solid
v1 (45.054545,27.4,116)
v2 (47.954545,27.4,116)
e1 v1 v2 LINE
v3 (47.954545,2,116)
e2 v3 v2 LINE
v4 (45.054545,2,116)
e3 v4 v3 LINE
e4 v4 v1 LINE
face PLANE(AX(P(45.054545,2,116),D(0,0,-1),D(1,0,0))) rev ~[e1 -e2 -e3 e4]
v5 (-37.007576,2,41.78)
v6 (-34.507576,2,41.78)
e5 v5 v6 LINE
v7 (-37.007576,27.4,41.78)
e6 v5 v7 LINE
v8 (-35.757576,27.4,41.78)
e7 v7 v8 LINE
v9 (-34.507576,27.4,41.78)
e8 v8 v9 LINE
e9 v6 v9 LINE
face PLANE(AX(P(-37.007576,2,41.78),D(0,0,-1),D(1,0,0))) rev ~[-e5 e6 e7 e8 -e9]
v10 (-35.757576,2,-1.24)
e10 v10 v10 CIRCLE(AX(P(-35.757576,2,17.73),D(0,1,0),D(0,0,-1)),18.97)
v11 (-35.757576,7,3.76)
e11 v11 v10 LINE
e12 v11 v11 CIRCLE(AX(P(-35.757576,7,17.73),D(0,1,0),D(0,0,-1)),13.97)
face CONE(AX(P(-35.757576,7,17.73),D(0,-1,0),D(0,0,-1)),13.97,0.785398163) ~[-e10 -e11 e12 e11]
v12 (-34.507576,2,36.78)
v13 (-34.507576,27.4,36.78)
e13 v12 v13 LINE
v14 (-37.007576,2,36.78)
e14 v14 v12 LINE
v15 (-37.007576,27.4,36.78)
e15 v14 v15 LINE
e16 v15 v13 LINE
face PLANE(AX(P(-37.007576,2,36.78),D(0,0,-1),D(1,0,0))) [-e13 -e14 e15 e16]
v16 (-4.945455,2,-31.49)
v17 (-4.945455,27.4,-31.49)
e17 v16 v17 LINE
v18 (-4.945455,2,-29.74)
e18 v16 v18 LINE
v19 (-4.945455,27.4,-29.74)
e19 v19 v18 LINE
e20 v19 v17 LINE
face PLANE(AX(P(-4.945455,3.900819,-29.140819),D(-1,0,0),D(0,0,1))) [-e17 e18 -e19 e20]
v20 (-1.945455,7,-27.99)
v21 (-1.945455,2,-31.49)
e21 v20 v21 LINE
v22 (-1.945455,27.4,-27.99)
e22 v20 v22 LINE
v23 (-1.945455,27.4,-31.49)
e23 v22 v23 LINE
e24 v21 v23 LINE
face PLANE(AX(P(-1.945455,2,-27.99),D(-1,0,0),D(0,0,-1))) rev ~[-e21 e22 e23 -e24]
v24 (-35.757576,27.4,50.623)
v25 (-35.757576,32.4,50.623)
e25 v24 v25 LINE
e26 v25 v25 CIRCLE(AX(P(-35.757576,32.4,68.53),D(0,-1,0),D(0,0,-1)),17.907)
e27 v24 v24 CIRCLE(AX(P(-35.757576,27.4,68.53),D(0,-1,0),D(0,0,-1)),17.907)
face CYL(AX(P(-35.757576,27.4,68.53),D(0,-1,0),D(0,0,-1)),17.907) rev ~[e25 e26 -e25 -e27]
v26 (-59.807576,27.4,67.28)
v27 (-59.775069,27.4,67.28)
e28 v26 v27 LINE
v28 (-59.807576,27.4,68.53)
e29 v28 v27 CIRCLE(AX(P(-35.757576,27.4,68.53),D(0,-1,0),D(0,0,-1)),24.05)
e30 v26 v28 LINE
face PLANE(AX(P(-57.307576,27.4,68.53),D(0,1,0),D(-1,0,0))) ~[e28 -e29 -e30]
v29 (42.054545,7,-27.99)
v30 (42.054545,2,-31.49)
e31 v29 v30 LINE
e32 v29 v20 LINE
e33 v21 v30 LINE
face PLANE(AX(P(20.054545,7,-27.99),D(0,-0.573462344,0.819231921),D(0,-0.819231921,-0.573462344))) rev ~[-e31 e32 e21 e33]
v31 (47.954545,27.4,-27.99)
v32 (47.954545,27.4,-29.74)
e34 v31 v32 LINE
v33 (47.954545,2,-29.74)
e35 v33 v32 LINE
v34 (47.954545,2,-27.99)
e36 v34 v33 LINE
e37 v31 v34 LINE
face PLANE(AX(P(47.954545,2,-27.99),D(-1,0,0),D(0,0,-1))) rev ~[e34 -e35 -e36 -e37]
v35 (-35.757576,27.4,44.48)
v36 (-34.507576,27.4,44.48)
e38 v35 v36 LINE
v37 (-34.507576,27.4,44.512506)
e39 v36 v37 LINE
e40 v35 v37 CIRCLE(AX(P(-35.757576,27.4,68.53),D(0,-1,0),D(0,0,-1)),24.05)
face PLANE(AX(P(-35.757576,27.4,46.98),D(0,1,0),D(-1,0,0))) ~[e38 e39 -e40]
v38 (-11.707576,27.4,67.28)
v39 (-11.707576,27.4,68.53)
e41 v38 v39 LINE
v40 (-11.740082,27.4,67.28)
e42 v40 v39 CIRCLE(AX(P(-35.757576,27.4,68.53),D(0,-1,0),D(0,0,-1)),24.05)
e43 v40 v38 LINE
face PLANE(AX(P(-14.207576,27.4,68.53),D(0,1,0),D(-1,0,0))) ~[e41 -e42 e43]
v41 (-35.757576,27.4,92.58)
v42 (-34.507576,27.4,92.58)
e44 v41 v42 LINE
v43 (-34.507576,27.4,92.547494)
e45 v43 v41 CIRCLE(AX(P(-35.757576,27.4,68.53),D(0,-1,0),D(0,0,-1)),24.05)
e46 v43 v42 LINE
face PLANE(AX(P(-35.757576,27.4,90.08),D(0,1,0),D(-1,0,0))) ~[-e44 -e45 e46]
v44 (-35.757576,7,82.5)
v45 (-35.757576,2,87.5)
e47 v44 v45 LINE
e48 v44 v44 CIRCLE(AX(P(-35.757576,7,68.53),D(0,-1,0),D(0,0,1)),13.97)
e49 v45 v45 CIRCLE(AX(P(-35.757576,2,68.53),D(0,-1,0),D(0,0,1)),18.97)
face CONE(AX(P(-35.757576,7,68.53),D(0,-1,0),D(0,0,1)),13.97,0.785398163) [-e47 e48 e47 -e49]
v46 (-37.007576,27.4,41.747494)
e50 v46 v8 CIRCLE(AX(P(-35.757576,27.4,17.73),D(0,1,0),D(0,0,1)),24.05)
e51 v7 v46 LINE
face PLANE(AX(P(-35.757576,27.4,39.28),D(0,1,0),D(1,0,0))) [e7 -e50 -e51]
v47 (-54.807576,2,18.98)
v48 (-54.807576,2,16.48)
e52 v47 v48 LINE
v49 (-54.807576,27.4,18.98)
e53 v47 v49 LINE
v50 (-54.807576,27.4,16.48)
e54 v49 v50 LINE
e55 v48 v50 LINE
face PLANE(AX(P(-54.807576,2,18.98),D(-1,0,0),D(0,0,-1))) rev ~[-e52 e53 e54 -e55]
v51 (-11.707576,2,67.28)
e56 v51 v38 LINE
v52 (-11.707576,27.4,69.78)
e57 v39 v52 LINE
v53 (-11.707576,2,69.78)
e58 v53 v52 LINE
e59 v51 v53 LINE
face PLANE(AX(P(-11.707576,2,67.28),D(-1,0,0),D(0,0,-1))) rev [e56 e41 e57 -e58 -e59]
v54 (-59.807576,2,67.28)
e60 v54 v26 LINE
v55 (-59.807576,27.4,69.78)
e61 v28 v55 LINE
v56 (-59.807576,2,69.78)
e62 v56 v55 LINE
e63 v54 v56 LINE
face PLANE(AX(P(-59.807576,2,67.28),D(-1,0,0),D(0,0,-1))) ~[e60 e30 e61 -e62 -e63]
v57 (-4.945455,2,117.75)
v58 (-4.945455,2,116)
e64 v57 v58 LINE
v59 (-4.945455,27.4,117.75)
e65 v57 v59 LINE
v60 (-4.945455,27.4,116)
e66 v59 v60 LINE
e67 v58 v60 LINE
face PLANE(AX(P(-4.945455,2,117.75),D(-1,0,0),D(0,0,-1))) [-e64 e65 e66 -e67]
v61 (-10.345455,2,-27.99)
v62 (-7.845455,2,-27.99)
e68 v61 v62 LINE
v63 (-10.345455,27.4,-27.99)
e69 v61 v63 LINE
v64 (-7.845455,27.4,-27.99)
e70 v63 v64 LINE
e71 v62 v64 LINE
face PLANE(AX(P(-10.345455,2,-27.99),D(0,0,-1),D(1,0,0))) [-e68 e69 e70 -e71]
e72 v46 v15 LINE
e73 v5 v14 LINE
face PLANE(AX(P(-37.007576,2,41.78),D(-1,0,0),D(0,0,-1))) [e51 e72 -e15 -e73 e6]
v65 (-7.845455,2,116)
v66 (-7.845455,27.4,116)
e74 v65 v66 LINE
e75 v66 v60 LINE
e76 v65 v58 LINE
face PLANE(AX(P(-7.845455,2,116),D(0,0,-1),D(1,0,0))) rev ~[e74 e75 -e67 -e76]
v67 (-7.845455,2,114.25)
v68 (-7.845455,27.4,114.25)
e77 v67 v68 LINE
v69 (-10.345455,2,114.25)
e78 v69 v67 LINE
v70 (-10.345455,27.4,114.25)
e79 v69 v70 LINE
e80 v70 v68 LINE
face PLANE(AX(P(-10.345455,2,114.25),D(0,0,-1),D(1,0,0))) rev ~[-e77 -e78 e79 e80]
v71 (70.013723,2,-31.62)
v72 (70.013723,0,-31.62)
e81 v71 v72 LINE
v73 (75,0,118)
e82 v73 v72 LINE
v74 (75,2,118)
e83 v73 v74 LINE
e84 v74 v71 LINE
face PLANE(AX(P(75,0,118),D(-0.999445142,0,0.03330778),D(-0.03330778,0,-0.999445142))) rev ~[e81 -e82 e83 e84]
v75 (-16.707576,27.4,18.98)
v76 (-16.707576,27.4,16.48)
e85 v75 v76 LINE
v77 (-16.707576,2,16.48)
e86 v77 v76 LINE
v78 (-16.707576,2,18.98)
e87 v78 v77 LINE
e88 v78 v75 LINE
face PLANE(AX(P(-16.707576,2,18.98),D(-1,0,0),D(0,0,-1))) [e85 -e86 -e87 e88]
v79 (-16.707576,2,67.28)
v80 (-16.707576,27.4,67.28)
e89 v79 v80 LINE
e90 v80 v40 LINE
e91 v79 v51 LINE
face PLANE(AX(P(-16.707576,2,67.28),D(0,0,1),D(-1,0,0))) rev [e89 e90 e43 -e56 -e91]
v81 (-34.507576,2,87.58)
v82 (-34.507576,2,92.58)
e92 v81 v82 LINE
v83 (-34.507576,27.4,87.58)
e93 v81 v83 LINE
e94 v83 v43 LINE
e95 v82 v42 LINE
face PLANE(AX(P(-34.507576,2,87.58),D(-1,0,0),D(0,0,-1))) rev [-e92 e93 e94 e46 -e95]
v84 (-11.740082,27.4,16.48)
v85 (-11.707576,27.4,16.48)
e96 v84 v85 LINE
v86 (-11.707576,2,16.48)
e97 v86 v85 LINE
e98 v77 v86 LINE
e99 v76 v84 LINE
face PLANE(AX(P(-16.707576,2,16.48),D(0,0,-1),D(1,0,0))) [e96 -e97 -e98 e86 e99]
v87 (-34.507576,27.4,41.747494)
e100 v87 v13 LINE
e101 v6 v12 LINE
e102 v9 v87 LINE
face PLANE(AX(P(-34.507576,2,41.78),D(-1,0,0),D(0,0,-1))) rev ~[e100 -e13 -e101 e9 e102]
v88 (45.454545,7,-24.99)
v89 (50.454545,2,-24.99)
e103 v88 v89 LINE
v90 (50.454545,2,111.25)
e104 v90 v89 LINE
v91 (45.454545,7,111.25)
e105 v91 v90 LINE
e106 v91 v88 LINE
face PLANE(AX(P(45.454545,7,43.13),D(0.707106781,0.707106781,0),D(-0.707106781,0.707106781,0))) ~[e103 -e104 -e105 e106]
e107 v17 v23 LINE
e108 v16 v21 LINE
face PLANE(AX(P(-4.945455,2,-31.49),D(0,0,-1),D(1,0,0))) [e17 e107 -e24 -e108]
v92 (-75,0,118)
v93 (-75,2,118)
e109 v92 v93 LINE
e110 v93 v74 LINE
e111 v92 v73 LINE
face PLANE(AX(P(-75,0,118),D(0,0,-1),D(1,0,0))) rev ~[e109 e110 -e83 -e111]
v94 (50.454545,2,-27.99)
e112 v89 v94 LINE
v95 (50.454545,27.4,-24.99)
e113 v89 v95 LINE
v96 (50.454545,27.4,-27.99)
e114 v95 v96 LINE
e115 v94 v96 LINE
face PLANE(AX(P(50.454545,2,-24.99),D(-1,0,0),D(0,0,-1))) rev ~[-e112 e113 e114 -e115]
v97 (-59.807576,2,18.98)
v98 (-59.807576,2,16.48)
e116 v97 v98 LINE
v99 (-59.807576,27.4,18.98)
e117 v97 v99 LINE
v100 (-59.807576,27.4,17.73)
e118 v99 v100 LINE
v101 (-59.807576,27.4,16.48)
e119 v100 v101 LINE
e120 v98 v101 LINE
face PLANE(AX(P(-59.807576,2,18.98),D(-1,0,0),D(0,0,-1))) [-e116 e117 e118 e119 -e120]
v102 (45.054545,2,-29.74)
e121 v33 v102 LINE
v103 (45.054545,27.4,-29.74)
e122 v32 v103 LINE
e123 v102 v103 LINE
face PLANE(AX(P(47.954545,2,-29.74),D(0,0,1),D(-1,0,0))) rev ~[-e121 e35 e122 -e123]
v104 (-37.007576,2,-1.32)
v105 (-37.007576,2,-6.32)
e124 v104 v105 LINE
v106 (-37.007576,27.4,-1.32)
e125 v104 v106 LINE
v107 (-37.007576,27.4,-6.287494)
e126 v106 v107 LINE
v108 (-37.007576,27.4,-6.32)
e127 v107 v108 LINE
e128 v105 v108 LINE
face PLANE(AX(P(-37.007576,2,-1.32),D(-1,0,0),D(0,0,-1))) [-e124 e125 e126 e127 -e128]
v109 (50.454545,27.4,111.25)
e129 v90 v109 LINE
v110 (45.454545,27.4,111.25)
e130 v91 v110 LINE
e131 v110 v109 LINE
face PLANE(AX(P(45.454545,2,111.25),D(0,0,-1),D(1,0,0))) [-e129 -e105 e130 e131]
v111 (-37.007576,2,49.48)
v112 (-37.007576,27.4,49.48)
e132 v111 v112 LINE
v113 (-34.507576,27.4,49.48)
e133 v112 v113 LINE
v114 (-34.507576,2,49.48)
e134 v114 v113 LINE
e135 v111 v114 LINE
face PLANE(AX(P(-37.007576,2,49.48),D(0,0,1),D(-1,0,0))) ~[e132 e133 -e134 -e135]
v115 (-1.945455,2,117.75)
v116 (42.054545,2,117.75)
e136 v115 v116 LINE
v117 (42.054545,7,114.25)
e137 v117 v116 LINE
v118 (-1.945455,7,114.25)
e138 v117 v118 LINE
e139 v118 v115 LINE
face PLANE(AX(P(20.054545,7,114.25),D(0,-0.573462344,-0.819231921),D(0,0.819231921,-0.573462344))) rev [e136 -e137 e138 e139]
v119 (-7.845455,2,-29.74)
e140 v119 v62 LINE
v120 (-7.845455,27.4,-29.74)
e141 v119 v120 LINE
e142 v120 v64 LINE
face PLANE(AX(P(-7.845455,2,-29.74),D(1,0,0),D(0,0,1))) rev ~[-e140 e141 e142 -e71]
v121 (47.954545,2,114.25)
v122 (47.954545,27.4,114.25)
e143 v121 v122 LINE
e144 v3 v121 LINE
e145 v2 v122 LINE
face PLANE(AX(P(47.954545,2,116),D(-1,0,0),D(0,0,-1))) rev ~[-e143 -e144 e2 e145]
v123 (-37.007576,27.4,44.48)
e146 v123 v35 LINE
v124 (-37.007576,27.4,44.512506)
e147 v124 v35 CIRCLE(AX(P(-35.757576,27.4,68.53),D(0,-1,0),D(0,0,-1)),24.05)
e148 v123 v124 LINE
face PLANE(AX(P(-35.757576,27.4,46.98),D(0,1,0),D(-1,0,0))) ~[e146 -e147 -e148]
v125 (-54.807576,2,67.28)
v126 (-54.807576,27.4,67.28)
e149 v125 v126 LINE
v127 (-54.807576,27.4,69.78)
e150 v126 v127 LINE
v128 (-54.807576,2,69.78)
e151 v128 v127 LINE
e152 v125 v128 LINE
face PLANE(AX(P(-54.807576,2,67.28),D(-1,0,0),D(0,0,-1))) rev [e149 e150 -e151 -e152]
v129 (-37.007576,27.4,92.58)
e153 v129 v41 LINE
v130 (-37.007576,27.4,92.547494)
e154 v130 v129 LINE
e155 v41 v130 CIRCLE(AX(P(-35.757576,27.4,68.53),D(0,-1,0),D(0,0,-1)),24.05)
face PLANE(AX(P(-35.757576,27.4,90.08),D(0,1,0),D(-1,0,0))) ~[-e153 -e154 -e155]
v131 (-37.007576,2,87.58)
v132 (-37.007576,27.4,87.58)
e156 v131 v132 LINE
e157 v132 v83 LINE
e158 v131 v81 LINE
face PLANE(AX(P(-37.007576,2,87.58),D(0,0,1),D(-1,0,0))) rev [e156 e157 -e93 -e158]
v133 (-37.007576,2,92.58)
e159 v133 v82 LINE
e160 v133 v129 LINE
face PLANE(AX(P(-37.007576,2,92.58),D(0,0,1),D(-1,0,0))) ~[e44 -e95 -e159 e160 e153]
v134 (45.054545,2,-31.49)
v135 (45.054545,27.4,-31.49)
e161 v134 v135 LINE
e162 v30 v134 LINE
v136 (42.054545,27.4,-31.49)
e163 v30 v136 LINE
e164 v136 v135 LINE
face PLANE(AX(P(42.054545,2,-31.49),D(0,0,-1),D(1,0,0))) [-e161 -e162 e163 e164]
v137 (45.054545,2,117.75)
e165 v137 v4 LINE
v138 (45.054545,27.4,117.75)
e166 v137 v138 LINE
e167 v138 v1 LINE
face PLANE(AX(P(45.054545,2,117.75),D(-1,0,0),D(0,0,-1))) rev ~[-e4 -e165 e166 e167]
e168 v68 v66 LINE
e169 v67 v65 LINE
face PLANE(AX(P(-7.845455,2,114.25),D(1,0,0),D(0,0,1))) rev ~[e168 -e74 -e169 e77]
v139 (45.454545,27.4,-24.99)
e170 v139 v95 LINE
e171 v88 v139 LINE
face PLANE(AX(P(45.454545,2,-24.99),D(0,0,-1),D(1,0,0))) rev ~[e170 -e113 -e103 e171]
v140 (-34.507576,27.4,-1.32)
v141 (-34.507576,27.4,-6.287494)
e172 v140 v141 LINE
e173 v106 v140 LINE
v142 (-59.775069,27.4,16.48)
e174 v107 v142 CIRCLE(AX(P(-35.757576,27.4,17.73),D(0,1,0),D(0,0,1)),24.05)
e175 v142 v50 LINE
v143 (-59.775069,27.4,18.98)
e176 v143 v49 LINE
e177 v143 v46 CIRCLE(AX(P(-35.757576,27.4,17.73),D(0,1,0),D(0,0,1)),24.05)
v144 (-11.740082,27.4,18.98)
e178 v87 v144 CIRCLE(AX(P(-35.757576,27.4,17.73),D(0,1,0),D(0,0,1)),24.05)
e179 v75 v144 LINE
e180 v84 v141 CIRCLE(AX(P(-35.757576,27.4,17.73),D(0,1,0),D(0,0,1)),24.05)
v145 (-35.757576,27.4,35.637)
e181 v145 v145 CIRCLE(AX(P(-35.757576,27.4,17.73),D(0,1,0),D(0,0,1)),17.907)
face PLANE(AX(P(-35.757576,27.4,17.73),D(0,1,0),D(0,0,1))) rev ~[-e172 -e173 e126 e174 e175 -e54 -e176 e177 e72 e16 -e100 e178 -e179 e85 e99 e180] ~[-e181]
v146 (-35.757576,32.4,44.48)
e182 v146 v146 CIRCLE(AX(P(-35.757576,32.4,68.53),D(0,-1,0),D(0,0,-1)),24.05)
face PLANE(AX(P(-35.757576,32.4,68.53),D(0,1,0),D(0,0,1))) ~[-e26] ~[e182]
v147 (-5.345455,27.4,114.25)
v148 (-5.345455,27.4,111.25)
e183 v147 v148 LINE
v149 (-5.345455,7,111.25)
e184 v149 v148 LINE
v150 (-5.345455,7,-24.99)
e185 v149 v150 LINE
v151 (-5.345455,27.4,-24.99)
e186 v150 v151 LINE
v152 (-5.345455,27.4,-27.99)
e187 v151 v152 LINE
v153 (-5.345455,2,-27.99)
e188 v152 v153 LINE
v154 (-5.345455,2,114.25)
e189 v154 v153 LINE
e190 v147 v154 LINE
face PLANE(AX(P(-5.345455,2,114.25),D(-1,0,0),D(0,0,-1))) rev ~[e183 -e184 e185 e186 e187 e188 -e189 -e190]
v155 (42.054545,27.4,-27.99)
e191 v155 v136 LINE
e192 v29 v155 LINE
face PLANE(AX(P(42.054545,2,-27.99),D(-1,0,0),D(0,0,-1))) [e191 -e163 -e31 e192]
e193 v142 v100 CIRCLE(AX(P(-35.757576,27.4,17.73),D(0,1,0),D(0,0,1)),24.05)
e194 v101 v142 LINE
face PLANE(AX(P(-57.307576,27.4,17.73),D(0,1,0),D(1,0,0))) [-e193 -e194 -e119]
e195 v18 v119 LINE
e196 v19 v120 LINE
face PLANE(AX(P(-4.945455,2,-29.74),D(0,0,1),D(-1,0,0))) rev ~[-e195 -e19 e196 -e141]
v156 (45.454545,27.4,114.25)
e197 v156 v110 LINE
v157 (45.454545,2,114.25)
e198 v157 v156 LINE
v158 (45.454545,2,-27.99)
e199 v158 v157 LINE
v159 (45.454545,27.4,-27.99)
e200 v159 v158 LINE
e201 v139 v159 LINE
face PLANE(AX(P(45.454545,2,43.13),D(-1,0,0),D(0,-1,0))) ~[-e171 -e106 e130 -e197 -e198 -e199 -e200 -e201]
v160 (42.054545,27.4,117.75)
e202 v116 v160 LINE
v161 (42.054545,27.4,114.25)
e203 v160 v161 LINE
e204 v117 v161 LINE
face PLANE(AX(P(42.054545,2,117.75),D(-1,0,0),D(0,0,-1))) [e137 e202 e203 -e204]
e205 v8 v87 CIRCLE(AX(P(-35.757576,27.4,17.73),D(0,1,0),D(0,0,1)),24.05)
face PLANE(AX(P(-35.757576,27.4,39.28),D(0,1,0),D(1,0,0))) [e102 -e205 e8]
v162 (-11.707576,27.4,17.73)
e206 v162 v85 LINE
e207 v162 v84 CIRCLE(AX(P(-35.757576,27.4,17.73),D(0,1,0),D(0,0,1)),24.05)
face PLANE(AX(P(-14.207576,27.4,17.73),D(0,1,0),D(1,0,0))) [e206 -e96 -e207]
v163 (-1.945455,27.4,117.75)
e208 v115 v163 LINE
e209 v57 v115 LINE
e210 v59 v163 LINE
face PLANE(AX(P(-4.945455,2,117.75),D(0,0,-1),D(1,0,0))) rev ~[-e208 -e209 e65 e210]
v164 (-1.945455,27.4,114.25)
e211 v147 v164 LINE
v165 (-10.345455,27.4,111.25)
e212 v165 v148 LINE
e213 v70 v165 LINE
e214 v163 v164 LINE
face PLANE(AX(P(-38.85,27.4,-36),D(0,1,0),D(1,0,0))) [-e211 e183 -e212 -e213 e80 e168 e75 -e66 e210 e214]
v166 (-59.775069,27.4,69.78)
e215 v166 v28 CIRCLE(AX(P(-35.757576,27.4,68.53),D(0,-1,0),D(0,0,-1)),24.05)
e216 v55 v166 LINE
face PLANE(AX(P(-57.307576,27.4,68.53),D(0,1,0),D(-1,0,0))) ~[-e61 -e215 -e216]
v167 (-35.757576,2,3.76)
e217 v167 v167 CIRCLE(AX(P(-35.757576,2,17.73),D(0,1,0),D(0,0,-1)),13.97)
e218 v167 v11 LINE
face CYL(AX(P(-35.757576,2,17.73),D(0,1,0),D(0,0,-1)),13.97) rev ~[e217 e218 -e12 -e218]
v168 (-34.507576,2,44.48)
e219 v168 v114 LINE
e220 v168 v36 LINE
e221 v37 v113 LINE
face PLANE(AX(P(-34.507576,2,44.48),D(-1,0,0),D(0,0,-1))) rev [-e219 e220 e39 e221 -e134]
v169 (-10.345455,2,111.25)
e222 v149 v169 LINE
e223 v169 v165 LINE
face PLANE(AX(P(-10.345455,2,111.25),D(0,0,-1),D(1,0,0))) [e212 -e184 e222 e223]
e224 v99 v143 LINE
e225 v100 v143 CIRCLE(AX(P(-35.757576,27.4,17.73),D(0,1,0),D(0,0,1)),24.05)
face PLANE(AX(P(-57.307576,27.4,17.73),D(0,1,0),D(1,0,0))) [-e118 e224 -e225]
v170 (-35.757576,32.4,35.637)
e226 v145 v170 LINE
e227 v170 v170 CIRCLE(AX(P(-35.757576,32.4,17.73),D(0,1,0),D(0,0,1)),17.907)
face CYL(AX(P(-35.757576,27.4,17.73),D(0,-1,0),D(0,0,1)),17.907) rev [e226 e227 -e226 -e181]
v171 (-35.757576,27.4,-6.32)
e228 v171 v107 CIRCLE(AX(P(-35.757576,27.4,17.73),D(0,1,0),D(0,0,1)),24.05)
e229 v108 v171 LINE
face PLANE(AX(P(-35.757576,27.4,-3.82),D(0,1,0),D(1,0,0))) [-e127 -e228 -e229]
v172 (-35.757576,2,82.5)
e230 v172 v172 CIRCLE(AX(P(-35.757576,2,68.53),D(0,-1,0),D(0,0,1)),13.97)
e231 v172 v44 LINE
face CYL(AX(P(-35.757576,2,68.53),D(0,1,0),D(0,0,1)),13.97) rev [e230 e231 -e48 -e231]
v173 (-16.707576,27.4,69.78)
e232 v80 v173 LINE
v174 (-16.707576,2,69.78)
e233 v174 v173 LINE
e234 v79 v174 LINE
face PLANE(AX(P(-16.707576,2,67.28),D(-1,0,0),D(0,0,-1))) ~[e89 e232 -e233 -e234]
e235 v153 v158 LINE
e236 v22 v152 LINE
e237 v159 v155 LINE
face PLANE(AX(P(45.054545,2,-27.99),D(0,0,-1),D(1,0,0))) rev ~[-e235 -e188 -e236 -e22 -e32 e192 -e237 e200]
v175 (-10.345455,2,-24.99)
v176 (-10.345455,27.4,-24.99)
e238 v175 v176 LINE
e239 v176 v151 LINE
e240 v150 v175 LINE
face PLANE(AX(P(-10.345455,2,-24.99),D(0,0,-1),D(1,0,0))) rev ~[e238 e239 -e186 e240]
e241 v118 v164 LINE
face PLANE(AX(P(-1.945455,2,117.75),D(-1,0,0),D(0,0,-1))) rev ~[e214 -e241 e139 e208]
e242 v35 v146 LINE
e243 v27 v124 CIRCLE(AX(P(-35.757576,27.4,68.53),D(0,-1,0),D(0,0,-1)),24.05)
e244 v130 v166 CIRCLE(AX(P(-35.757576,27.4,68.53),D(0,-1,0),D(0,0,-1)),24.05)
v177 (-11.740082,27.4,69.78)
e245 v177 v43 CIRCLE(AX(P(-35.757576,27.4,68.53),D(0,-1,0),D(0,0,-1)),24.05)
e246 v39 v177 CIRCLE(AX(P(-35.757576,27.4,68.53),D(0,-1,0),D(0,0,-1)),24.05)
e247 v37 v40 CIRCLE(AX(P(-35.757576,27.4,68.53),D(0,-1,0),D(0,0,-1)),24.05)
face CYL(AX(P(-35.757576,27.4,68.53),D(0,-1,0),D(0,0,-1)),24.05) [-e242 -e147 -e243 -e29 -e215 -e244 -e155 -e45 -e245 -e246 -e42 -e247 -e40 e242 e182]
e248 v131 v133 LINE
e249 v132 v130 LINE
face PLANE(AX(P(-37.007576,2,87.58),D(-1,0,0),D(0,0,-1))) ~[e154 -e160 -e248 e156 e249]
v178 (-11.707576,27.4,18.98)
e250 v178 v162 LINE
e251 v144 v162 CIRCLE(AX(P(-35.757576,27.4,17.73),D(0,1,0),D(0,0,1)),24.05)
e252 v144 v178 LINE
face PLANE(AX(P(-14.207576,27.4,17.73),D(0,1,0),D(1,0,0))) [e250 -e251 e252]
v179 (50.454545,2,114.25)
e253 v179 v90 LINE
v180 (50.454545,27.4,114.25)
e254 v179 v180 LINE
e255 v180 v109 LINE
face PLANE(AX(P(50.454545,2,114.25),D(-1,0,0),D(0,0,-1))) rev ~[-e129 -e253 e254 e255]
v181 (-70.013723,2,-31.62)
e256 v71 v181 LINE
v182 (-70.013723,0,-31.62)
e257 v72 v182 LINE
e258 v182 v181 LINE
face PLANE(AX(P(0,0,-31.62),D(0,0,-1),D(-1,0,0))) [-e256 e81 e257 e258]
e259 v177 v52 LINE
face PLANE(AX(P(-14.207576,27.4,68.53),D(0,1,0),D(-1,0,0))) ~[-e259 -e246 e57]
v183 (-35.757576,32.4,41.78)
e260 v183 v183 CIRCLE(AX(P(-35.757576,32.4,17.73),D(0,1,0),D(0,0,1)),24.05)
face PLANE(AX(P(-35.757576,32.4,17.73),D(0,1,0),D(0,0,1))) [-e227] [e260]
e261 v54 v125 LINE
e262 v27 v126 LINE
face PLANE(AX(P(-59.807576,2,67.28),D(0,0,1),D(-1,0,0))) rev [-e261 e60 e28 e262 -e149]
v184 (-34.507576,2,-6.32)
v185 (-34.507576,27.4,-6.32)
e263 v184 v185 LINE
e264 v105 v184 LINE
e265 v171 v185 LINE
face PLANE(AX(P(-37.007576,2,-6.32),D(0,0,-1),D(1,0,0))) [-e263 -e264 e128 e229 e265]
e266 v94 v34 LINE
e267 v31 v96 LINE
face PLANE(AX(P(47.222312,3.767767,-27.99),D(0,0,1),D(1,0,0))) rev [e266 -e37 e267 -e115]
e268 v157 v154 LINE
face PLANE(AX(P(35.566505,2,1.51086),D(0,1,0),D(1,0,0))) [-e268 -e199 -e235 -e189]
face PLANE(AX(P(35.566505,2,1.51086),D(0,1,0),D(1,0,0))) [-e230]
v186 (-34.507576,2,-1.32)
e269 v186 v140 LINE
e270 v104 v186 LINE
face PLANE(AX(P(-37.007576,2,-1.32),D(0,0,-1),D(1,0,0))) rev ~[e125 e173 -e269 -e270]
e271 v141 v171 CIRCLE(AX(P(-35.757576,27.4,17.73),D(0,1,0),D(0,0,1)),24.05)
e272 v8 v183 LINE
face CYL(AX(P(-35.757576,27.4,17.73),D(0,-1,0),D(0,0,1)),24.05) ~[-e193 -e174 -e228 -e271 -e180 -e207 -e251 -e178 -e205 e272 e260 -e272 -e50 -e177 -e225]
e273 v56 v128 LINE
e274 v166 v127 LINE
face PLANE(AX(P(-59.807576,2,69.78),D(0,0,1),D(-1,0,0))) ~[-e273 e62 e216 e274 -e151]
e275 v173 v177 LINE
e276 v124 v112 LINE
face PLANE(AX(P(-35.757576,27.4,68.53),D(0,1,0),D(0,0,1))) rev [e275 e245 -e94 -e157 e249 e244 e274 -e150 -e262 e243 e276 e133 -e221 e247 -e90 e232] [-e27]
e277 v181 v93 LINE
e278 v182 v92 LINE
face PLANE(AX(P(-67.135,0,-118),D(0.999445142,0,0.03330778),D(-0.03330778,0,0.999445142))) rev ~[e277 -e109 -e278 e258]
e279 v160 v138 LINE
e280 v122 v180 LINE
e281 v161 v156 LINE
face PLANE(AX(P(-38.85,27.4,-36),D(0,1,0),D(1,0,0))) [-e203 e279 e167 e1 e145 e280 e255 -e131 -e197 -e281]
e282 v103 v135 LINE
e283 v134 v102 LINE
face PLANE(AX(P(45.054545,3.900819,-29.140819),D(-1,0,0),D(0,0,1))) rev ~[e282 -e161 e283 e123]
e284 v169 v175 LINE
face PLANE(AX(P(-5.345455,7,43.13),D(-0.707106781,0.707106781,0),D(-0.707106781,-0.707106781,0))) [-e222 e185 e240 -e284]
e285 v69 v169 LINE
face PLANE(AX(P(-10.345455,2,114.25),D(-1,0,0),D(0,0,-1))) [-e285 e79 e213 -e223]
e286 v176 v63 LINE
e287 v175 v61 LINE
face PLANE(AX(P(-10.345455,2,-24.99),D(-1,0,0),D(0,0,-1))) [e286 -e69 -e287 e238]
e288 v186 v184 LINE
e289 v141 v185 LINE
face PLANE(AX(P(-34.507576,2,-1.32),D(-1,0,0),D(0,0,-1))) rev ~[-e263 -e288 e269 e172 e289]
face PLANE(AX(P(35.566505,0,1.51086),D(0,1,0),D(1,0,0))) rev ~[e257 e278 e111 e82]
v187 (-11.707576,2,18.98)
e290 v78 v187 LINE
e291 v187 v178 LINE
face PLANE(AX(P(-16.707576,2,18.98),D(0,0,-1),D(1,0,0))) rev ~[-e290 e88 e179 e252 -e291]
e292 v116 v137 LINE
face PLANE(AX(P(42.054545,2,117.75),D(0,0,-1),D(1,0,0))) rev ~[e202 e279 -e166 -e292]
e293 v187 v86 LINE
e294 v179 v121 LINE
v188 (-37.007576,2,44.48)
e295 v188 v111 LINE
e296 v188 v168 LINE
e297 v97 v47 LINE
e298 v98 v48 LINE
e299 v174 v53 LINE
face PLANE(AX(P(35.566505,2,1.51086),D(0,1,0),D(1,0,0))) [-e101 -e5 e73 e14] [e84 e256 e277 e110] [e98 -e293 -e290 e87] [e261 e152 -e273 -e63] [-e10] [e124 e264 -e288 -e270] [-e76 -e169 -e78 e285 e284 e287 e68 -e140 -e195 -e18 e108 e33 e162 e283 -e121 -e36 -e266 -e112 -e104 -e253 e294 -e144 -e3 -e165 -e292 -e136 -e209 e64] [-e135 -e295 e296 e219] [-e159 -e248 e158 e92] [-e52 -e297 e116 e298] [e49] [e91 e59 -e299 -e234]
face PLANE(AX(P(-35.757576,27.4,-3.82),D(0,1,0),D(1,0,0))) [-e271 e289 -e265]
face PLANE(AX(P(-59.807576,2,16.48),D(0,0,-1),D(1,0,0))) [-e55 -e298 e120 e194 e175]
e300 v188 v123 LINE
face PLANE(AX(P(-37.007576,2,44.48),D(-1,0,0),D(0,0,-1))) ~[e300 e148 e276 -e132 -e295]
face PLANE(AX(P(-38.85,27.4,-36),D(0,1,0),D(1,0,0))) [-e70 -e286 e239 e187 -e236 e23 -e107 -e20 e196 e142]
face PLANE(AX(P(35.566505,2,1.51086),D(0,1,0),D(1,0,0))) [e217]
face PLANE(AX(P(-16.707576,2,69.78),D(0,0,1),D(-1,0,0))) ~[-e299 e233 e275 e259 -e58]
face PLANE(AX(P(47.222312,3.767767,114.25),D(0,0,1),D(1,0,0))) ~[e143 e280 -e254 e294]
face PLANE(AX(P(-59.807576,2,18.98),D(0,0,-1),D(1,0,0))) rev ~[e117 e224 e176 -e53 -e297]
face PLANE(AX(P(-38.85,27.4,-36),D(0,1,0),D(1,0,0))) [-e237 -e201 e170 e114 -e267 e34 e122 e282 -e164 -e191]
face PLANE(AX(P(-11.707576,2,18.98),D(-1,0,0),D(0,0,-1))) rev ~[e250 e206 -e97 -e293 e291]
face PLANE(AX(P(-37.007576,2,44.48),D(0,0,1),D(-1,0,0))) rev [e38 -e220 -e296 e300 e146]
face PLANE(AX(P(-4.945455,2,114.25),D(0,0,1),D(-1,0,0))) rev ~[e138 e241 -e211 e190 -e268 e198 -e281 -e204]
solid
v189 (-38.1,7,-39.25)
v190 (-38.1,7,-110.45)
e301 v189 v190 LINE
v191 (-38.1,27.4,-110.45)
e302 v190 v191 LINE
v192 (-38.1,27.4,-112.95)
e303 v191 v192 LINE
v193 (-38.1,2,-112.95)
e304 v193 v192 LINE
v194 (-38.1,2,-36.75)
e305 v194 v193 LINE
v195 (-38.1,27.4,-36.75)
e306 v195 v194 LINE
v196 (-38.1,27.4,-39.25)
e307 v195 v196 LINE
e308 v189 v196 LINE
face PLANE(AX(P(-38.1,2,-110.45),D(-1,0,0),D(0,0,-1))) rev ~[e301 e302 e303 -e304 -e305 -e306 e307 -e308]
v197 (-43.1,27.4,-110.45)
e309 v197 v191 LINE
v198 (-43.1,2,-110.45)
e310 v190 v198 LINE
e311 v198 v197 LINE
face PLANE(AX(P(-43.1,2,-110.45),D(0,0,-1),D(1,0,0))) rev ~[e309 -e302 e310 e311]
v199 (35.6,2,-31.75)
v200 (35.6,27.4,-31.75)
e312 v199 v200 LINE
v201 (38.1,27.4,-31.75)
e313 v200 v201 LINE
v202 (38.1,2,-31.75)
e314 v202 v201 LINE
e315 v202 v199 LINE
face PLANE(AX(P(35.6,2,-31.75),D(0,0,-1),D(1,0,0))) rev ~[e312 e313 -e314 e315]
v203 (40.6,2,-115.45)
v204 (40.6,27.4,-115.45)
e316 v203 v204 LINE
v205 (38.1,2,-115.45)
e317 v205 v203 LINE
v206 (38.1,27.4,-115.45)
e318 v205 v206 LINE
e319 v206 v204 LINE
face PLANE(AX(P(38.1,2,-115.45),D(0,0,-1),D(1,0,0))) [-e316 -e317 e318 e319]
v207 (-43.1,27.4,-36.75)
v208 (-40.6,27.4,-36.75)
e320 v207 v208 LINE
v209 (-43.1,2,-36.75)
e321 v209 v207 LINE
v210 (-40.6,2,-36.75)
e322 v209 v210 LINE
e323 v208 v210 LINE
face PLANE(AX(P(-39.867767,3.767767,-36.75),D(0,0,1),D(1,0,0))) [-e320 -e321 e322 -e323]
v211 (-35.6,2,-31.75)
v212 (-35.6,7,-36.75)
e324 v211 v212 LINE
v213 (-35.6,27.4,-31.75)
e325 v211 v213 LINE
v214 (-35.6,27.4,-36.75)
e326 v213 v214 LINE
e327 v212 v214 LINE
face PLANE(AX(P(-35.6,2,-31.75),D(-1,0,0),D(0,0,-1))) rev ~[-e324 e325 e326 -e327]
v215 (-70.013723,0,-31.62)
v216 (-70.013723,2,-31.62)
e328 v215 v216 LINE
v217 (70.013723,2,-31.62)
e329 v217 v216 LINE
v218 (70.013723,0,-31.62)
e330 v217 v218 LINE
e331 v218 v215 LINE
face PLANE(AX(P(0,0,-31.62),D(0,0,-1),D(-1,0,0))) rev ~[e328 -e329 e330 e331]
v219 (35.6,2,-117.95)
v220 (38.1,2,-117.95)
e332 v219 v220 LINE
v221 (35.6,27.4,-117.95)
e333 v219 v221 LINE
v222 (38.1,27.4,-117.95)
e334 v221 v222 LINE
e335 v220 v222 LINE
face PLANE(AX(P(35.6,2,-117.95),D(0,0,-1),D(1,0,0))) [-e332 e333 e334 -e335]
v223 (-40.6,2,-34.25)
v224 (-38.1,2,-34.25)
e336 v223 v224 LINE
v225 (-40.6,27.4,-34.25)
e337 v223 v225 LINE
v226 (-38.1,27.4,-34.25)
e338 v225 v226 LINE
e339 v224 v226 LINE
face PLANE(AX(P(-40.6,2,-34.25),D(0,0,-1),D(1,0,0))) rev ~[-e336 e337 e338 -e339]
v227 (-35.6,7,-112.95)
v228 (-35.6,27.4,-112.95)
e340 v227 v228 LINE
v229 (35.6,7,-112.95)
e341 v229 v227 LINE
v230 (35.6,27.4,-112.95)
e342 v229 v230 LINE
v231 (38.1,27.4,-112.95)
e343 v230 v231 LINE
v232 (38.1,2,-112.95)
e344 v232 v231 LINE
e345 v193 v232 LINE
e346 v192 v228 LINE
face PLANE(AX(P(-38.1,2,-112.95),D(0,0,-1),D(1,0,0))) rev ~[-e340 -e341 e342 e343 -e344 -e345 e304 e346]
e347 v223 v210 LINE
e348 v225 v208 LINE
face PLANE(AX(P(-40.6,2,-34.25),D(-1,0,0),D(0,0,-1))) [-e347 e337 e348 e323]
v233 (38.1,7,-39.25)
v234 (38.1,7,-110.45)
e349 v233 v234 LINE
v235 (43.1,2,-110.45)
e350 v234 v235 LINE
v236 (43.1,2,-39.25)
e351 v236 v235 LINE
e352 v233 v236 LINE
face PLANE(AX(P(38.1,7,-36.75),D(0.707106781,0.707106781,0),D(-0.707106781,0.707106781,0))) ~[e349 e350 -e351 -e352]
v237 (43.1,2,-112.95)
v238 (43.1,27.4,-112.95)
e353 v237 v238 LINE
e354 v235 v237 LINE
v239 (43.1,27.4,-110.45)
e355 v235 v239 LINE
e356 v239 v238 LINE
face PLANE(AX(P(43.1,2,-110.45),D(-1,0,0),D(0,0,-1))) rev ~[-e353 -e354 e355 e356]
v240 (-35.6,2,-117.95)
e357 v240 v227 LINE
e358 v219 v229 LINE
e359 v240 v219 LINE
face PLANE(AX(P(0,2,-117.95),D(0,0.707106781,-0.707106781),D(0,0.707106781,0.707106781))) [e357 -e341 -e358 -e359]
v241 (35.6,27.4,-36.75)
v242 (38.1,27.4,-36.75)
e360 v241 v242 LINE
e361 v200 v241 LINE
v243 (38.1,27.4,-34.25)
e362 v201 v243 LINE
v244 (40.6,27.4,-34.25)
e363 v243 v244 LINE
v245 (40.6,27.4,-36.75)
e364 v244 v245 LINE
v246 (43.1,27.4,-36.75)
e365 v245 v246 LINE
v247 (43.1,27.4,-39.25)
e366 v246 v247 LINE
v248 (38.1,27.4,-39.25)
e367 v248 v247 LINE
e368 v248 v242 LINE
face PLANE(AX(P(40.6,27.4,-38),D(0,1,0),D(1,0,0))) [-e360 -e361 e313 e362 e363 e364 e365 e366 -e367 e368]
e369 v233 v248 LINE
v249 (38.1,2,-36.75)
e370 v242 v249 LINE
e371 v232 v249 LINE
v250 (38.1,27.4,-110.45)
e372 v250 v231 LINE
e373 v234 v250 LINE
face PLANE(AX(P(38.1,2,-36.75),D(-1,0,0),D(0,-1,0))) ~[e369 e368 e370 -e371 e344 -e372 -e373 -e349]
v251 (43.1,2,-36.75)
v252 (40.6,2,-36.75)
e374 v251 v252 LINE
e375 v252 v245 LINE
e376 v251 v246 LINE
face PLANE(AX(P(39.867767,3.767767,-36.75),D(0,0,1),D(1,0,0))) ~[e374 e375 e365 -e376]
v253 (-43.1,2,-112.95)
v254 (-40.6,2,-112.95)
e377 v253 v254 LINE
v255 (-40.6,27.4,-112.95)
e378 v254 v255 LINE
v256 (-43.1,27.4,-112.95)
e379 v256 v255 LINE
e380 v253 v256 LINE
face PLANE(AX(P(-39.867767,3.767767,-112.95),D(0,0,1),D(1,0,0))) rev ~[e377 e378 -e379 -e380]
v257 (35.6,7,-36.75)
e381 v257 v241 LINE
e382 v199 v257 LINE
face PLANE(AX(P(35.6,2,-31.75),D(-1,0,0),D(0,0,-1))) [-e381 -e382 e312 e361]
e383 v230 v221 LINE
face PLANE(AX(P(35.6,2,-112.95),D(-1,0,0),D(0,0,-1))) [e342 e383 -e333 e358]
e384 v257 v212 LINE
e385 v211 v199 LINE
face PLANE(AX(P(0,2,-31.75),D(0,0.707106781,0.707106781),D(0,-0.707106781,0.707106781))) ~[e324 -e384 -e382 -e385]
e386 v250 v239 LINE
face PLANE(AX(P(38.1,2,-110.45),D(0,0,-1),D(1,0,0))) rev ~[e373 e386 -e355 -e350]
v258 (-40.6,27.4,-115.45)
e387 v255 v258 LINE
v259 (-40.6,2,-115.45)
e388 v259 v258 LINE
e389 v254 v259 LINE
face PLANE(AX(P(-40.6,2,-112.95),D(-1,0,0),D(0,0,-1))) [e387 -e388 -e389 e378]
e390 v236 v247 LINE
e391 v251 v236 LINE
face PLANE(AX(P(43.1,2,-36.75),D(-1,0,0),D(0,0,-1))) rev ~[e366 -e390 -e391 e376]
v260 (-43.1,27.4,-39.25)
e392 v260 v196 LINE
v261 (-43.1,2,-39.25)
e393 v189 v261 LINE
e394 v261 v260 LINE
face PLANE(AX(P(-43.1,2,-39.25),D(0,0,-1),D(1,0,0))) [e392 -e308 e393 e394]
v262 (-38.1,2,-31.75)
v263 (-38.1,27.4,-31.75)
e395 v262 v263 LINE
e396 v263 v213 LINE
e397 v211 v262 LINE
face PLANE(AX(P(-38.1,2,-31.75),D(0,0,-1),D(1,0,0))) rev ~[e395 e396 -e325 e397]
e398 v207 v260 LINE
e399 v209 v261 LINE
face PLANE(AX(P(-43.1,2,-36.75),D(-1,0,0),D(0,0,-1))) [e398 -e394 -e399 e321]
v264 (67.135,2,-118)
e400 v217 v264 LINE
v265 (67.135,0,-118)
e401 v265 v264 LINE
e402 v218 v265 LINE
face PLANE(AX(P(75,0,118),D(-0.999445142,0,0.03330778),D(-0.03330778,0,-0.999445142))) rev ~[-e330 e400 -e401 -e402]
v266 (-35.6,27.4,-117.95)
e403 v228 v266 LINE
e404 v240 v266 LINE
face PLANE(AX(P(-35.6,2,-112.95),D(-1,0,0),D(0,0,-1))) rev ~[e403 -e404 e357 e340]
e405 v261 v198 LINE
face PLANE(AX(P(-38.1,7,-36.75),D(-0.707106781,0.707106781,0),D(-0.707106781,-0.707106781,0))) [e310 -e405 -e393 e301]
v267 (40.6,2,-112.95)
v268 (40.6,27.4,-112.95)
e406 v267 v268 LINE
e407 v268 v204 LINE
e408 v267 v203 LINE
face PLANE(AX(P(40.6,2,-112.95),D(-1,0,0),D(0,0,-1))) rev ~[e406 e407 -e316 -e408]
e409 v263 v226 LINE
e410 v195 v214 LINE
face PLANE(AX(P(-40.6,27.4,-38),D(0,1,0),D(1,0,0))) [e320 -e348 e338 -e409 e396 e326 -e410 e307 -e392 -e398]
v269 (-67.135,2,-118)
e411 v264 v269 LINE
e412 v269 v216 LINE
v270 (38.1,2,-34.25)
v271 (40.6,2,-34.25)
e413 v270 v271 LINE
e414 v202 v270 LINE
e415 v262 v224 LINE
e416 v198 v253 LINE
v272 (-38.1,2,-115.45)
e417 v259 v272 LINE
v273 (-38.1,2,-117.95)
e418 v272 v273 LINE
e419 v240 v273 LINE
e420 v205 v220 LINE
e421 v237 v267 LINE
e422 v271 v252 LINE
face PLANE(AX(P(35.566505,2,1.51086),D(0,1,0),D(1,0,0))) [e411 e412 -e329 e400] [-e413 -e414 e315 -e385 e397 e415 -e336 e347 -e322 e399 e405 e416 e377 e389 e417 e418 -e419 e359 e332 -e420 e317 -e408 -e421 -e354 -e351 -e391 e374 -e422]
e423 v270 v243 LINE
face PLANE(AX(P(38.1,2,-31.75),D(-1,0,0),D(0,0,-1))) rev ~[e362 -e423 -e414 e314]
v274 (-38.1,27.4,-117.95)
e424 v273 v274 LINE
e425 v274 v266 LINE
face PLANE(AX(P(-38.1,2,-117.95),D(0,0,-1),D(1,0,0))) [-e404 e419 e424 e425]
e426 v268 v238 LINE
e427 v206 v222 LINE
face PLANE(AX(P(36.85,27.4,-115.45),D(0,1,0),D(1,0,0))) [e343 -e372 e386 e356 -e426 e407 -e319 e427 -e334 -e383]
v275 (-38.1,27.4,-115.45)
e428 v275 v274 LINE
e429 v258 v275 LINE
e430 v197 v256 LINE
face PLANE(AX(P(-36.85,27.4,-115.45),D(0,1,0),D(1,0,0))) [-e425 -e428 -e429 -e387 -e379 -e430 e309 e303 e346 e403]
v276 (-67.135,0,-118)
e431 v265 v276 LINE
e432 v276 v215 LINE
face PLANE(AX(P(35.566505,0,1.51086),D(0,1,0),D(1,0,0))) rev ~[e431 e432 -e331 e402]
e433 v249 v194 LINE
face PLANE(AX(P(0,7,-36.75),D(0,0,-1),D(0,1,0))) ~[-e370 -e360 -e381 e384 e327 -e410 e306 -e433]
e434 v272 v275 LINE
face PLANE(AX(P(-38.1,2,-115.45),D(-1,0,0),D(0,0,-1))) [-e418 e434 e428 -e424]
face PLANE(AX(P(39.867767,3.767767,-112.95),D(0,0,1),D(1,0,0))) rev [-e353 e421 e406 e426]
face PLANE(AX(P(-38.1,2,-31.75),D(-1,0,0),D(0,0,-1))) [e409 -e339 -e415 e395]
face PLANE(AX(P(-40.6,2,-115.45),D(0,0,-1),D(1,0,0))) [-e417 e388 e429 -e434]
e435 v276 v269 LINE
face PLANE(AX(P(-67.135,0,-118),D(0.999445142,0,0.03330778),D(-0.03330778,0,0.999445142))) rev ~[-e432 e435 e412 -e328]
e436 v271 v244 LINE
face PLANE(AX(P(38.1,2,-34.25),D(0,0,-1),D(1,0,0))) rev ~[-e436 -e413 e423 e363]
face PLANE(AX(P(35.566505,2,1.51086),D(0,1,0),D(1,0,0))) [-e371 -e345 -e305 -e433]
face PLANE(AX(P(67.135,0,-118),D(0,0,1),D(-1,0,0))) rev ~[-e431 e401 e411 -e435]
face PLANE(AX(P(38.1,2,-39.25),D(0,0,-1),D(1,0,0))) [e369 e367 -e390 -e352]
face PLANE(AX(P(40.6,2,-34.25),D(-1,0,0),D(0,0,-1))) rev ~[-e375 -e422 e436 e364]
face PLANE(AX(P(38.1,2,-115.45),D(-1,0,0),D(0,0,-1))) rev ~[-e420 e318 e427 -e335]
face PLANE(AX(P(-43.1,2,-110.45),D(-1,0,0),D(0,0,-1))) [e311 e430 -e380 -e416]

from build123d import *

# Parameters (mm, degrees)
BOSS_EXTRUDE1_DEPTH  = 2
BOSS_EXTRUDE2_DEPTH  = 76.2
BOSS_EXTRUDE7_DEPTH  = 38
BOSS_EXTRUDE9_DEPTH  = 71.12
SKETCH19_W           = 5
SKETCH19_H           = 2.5
SKETCH19_W_2         = 2.5
SKETCH19_H_2         = 5
BOSS_EXTRUDE13_DEPTH = 25.4
SKETCH20_R           = 24.05
SKETCH20_R_2         = 17.907
BOSS_EXTRUDE14_DEPTH = 5
SKETCH21_W           = 2.5
SKETCH21_H           = 5
SKETCH21_H_2         = 2.5
SKETCH21_W_2         = 5
BOSS_EXTRUDE15_DEPTH = 25.4
BOSS_EXTRUDE16_DEPTH = 25
BOSS_EXTRUDE17_REACH = 145.084
SKETCH24_W           = 5
SKETCH24_H           = 3
SKETCH24_W_2         = 3
SKETCH24_H_2         = 3.5


with BuildPart() as part:
    # Sketch1 → Boss-Extrude1 (new body)
    with BuildSketch(Plane(origin=(0, 0, 0), x_dir=(1, 0, 0), z_dir=(0, 1, 0))):
        Polygon((0, 118), (0, -118), (75, -118), (67.135, 118), align=None)
        Polygon((-75, -118), (0, -118), (0, 118), (-67.135, 118), align=None)
    extrude(amount=BOSS_EXTRUDE1_DEPTH)

    # Sketch7 → Boss-Extrude2 (add)
    with BuildSketch(Plane.XY.offset(-36.75)):
        Polygon((-38.1, 2), (-38.1, 7), (-43.1, 2), align=None)
    boss_extrude2 = extrude(amount=-BOSS_EXTRUDE2_DEPTH)

    # Mirror1: Boss-Extrude2 across plane
    add(boss_extrude2.mirror(Plane(origin=(0, 0, 0), x_dir=(0, 0, 1), z_dir=(1, 0, 0))))

    # Sketch9 → Boss-Extrude7 (add, symmetric)
    with BuildSketch(Plane(origin=(0, 0, 0), x_dir=(0, 0, -1), z_dir=(1, 0, 0))):
        Polygon((112.95, 2), (117.95, 2), (112.95, 7), align=None)
    boss_extrude7 = extrude(amount=BOSS_EXTRUDE7_DEPTH, both=True)

    # Mirror2: Boss-Extrude7 across plane
    add(boss_extrude7.mirror(Plane.XY.offset(-74.85)))

    # Sketch12 → Boss-Extrude9 (add, symmetric)
    with BuildSketch(Plane.XY.offset(43.13)):
        Polygon((-10.345454545, 2), (-5.345454545, 2), (-5.345454545, 7), align=None)
    boss_extrude9 = extrude(amount=BOSS_EXTRUDE9_DEPTH, both=True)

    # Mirror4: Boss-Extrude9 across plane
    add(boss_extrude9.mirror(Plane(origin=(20.054545455, 0, 0), x_dir=(0, 0, 1), z_dir=(1, 0, 0))))

    # Sketch17 → Revolve1 (revolve)
    with BuildSketch(Plane.XY.offset(17.73), mode=Mode.PRIVATE) as revolve1_sk:
        Polygon((-49.727575758, 2), (-49.727575758, 7), (-54.727575758, 2), align=None)
    revolve1 = revolve(revolve1_sk.sketch.rotate(Axis((-35.757575758, 2, 17.73), (0, 1, 0)), 270), axis=Axis((-35.757575758, 2, 17.73), (0, 1, 0)))

    # Mirror7: Revolve1 across plane
    add(revolve1.mirror(Plane.XY.offset(43.13)))

    # Sketch19 → Boss-Extrude13 (add)
    with BuildSketch(Plane(origin=(0, 2, 0), x_dir=(1, 0, 0), z_dir=(0, 1, 0))):
        with Locations((-57.307575758, -17.73)):
            Rectangle(SKETCH19_W, SKETCH19_H)
        with Locations((-35.757575758, -39.28)):
            Rectangle(SKETCH19_W_2, SKETCH19_H_2)
        with Locations((-35.757575758, 3.82)):
            Rectangle(SKETCH19_W_2, SKETCH19_H_2)
        with Locations((-14.207575758, -17.73)):
            Rectangle(SKETCH19_W, SKETCH19_H)
    boss_extrude13 = extrude(amount=BOSS_EXTRUDE13_DEPTH)

    # Sketch20 → Boss-Extrude14 (add)
    with BuildSketch(Plane(origin=(0, 27.4, 0), x_dir=(1, 0, 0), z_dir=(0, 1, 0))):
        with Locations(Location((-35.757575758, -17.73, 0), (0, 0, 270))):
            Circle(SKETCH20_R)
        with Locations(Location((-35.757575758, -17.73, 0), (0, 0, 270))):
            Circle(SKETCH20_R_2, mode=Mode.SUBTRACT)
    boss_extrude14 = extrude(amount=BOSS_EXTRUDE14_DEPTH)

    # Mirror8: Boss-Extrude13, Boss-Extrude14 across plane
    add(boss_extrude13.mirror(Plane.XY.offset(43.13)))
    add(boss_extrude14.mirror(Plane.XY.offset(43.13)))

    # Sketch21 → Boss-Extrude15 (add)
    with BuildSketch(Plane(origin=(0, 2, 0), x_dir=(1, 0, 0), z_dir=(0, 1, 0))):
        with Locations((-36.85, 115.45)):
            Rectangle(SKETCH21_W, SKETCH21_H)
        with Locations((-39.35, 114.2)):
            Rectangle(SKETCH21_W, SKETCH21_H_2)
        with Locations((-40.6, 111.7)):
            Rectangle(SKETCH21_W_2, SKETCH21_H_2)
        with Locations((-40.6, 38)):
            Rectangle(SKETCH21_W_2, SKETCH21_H_2)
        with Locations((-39.35, 35.5)):
            Rectangle(SKETCH21_W, SKETCH21_H_2)
        with Locations((-36.85, 34.25)):
            Rectangle(SKETCH21_W, SKETCH21_H)
        with Locations((40.6, 38)):
            Rectangle(SKETCH21_W_2, SKETCH21_H_2)
        with Locations((39.35, 35.5)):
            Rectangle(SKETCH21_W, SKETCH21_H_2)
        with Locations((36.85, 34.25)):
            Rectangle(SKETCH21_W, SKETCH21_H)
        with Locations((36.85, 115.45)):
            Rectangle(SKETCH21_W, SKETCH21_H)
        with Locations((40.6, 111.7)):
            Rectangle(SKETCH21_W_2, SKETCH21_H_2)
        with Locations((39.35, 114.2)):
            Rectangle(SKETCH21_W, SKETCH21_H_2)
    extrude(amount=BOSS_EXTRUDE15_DEPTH)

    # Sketch23 → Boss-Extrude16 (add, symmetric)
    with BuildSketch(Plane(origin=(20.054545455, 0, 0), x_dir=(0, 0, -1), z_dir=(1, 0, 0))):
        Polygon((27.99, 2), (27.99, 7), (31.49, 2), align=None)
    boss_extrude16 = extrude(amount=BOSS_EXTRUDE16_DEPTH, both=True)

    # Mirror10: Boss-Extrude16 across plane
    add(boss_extrude16.mirror(Plane.XY.offset(43.13)))

    # Boss-Extrude17: up to this face of the body (flat: up to its plane)
    boss_extrude17_end = Plane(part.part.faces().sort_by_distance((-38.85, 27.4, -36))[0])
    # Sketch24 → Boss-Extrude17 (add, up to the picked face)
    with BuildSketch(Plane(origin=(0, 2, 0), x_dir=(1, 0, 0), z_dir=(0, 1, 0)), mode=Mode.PRIVATE) as boss_extrude17_sk1:
        with Locations((-7.845454545, 26.49)):
            Rectangle(SKETCH24_W, SKETCH24_H)
    boss_extrude17_tool1 = split(extrude(boss_extrude17_sk1.sketch, amount=BOSS_EXTRUDE17_REACH, mode=Mode.PRIVATE), bisect_by=boss_extrude17_end, keep=Keep.BOTH, mode=Mode.PRIVATE)
    # Sketch24 → Boss-Extrude17 (add, up to the picked face)
    with BuildSketch(Plane(origin=(0, 2, 0), x_dir=(1, 0, 0), z_dir=(0, 1, 0)), mode=Mode.PRIVATE) as boss_extrude17_sk2:
        Polygon((-4.945454545, 27.99), (-4.945454545, 29.74), (-7.845454545, 29.74), (-7.845454545, 27.99), (-5.345454545, 27.99), align=None)
    boss_extrude17_tool2 = split(extrude(boss_extrude17_sk2.sketch, amount=BOSS_EXTRUDE17_REACH, mode=Mode.PRIVATE), bisect_by=boss_extrude17_end, keep=Keep.BOTH, mode=Mode.PRIVATE)
    # Sketch24 → Boss-Extrude17 (add, up to the picked face)
    with BuildSketch(Plane(origin=(0, 2, 0), x_dir=(1, 0, 0), z_dir=(0, 1, 0)), mode=Mode.PRIVATE) as boss_extrude17_sk3:
        with Locations((-3.445454545, 29.74)):
            Rectangle(SKETCH24_W_2, SKETCH24_H_2)
    boss_extrude17_tool3 = split(extrude(boss_extrude17_sk3.sketch, amount=BOSS_EXTRUDE17_REACH, mode=Mode.PRIVATE), bisect_by=boss_extrude17_end, keep=Keep.BOTH, mode=Mode.PRIVATE)
    # Sketch24 → Boss-Extrude17 (add, up to the picked face)
    with BuildSketch(Plane(origin=(0, 2, 0), x_dir=(1, 0, 0), z_dir=(0, 1, 0)), mode=Mode.PRIVATE) as boss_extrude17_sk4:
        with Locations((43.554545455, 29.74)):
            Rectangle(SKETCH24_W_2, SKETCH24_H_2)
    boss_extrude17_tool4 = split(extrude(boss_extrude17_sk4.sketch, amount=BOSS_EXTRUDE17_REACH, mode=Mode.PRIVATE), bisect_by=boss_extrude17_end, keep=Keep.BOTH, mode=Mode.PRIVATE)
    # Sketch24 → Boss-Extrude17 (add, up to the picked face)
    with BuildSketch(Plane(origin=(0, 2, 0), x_dir=(1, 0, 0), z_dir=(0, 1, 0)), mode=Mode.PRIVATE) as boss_extrude17_sk5:
        Polygon((45.054545455, 29.74), (45.054545455, 27.99), (45.454545455, 27.99), (47.954545455, 27.99), (47.954545455, 29.74), align=None)
    boss_extrude17_tool5 = split(extrude(boss_extrude17_sk5.sketch, amount=BOSS_EXTRUDE17_REACH, mode=Mode.PRIVATE), bisect_by=boss_extrude17_end, keep=Keep.BOTH, mode=Mode.PRIVATE)
    # Sketch24 → Boss-Extrude17 (add, up to the picked face)
    with BuildSketch(Plane(origin=(0, 2, 0), x_dir=(1, 0, 0), z_dir=(0, 1, 0)), mode=Mode.PRIVATE) as boss_extrude17_sk6:
        with Locations((47.954545455, 26.49)):
            Rectangle(SKETCH24_W, SKETCH24_H)
    boss_extrude17_tool6 = split(extrude(boss_extrude17_sk6.sketch, amount=BOSS_EXTRUDE17_REACH, mode=Mode.PRIVATE), bisect_by=boss_extrude17_end, keep=Keep.BOTH, mode=Mode.PRIVATE)
    # Sketch24 → Boss-Extrude17 (add, up to the picked face)
    with BuildSketch(Plane(origin=(0, 2, 0), x_dir=(1, 0, 0), z_dir=(0, 1, 0)), mode=Mode.PRIVATE) as boss_extrude17_sk7:
        with Locations((47.954545455, -112.75)):
            Rectangle(SKETCH24_W, SKETCH24_H)
    boss_extrude17_tool7 = split(extrude(boss_extrude17_sk7.sketch, amount=BOSS_EXTRUDE17_REACH, mode=Mode.PRIVATE), bisect_by=boss_extrude17_end, keep=Keep.BOTH, mode=Mode.PRIVATE)
    # Sketch24 → Boss-Extrude17 (add, up to the picked face)
    with BuildSketch(Plane(origin=(0, 2, 0), x_dir=(1, 0, 0), z_dir=(0, 1, 0)), mode=Mode.PRIVATE) as boss_extrude17_sk8:
        Polygon((45.454545455, -114.25), (45.054545455, -114.25), (45.054545455, -116), (47.954545455, -116), (47.954545455, -114.25), align=None)
    boss_extrude17_tool8 = split(extrude(boss_extrude17_sk8.sketch, amount=BOSS_EXTRUDE17_REACH, mode=Mode.PRIVATE), bisect_by=boss_extrude17_end, keep=Keep.BOTH, mode=Mode.PRIVATE)
    # Sketch24 → Boss-Extrude17 (add, up to the picked face)
    with BuildSketch(Plane(origin=(0, 2, 0), x_dir=(1, 0, 0), z_dir=(0, 1, 0)), mode=Mode.PRIVATE) as boss_extrude17_sk9:
        with Locations((43.554545455, -116)):
            Rectangle(SKETCH24_W_2, SKETCH24_H_2)
    boss_extrude17_tool9 = split(extrude(boss_extrude17_sk9.sketch, amount=BOSS_EXTRUDE17_REACH, mode=Mode.PRIVATE), bisect_by=boss_extrude17_end, keep=Keep.BOTH, mode=Mode.PRIVATE)
    # Sketch24 → Boss-Extrude17 (add, up to the picked face)
    with BuildSketch(Plane(origin=(0, 2, 0), x_dir=(1, 0, 0), z_dir=(0, 1, 0)), mode=Mode.PRIVATE) as boss_extrude17_sk10:
        with Locations((-3.445454545, -116)):
            Rectangle(SKETCH24_W_2, SKETCH24_H_2)
    boss_extrude17_tool10 = split(extrude(boss_extrude17_sk10.sketch, amount=BOSS_EXTRUDE17_REACH, mode=Mode.PRIVATE), bisect_by=boss_extrude17_end, keep=Keep.BOTH, mode=Mode.PRIVATE)
    # Sketch24 → Boss-Extrude17 (add, up to the picked face)
    with BuildSketch(Plane(origin=(0, 2, 0), x_dir=(1, 0, 0), z_dir=(0, 1, 0)), mode=Mode.PRIVATE) as boss_extrude17_sk11:
        Polygon((-4.945454545, -116), (-4.945454545, -114.25), (-5.345454545, -114.25), (-7.845454545, -114.25), (-7.845454545, -116), align=None)
    boss_extrude17_tool11 = split(extrude(boss_extrude17_sk11.sketch, amount=BOSS_EXTRUDE17_REACH, mode=Mode.PRIVATE), bisect_by=boss_extrude17_end, keep=Keep.BOTH, mode=Mode.PRIVATE)
    # Sketch24 → Boss-Extrude17 (add, up to the picked face)
    with BuildSketch(Plane(origin=(0, 2, 0), x_dir=(1, 0, 0), z_dir=(0, 1, 0)), mode=Mode.PRIVATE) as boss_extrude17_sk12:
        with Locations((-7.845454545, -112.75)):
            Rectangle(SKETCH24_W, SKETCH24_H)
    boss_extrude17_tool12 = split(extrude(boss_extrude17_sk12.sketch, amount=BOSS_EXTRUDE17_REACH, mode=Mode.PRIVATE), bisect_by=boss_extrude17_end, keep=Keep.BOTH, mode=Mode.PRIVATE)
    add(boss_extrude17_tool1.solids().sort_by(Axis((-7.845455, 2, -26.49), (0, 1, 0)))[0])
    add(boss_extrude17_tool2.solids().sort_by(Axis((-6.395455, 2, -28.865), (0, 1, 0)))[0])
    add(boss_extrude17_tool3.solids().sort_by(Axis((-3.445455, 2, -29.74), (0, 1, 0)))[0])
    add(boss_extrude17_tool4.solids().sort_by(Axis((43.554545, 2, -29.74), (0, 1, 0)))[0])
    add(boss_extrude17_tool5.solids().sort_by(Axis((46.504545, 2, -28.865), (0, 1, 0)))[0])
    add(boss_extrude17_tool6.solids().sort_by(Axis((47.954545, 2, -26.49), (0, 1, 0)))[0])
    add(boss_extrude17_tool7.solids().sort_by(Axis((47.954545, 2, 112.75), (0, 1, 0)))[0])
    add(boss_extrude17_tool8.solids().sort_by(Axis((46.504545, 2, 115.125), (0, 1, 0)))[0])
    add(boss_extrude17_tool9.solids().sort_by(Axis((43.554545, 2, 116), (0, 1, 0)))[0])
    add(boss_extrude17_tool10.solids().sort_by(Axis((-3.445455, 2, 116), (0, 1, 0)))[0])
    add(boss_extrude17_tool11.solids().sort_by(Axis((-6.395455, 2, 115.125), (0, 1, 0)))[0])
    add(boss_extrude17_tool12.solids().sort_by(Axis((-7.845455, 2, 112.75), (0, 1, 0)))[0])


with BuildPart() as body_2:
    # Split1: the piece on the far side of the plane
    add(part.part)
    split(bisect_by=Plane(origin=(0, 0, -31.62), x_dir=(-1, 0, 0), z_dir=(0, 0, -1)), keep=Keep.BOTTOM)


with BuildPart() as part_1:
    add(part.part)

    # Split1
    split(bisect_by=Plane(origin=(0, 0, -31.62), x_dir=(-1, 0, 0), z_dir=(0, 0, -1)), keep=Keep.TOP)


solid = Compound([body_2.part, part_1.part])
